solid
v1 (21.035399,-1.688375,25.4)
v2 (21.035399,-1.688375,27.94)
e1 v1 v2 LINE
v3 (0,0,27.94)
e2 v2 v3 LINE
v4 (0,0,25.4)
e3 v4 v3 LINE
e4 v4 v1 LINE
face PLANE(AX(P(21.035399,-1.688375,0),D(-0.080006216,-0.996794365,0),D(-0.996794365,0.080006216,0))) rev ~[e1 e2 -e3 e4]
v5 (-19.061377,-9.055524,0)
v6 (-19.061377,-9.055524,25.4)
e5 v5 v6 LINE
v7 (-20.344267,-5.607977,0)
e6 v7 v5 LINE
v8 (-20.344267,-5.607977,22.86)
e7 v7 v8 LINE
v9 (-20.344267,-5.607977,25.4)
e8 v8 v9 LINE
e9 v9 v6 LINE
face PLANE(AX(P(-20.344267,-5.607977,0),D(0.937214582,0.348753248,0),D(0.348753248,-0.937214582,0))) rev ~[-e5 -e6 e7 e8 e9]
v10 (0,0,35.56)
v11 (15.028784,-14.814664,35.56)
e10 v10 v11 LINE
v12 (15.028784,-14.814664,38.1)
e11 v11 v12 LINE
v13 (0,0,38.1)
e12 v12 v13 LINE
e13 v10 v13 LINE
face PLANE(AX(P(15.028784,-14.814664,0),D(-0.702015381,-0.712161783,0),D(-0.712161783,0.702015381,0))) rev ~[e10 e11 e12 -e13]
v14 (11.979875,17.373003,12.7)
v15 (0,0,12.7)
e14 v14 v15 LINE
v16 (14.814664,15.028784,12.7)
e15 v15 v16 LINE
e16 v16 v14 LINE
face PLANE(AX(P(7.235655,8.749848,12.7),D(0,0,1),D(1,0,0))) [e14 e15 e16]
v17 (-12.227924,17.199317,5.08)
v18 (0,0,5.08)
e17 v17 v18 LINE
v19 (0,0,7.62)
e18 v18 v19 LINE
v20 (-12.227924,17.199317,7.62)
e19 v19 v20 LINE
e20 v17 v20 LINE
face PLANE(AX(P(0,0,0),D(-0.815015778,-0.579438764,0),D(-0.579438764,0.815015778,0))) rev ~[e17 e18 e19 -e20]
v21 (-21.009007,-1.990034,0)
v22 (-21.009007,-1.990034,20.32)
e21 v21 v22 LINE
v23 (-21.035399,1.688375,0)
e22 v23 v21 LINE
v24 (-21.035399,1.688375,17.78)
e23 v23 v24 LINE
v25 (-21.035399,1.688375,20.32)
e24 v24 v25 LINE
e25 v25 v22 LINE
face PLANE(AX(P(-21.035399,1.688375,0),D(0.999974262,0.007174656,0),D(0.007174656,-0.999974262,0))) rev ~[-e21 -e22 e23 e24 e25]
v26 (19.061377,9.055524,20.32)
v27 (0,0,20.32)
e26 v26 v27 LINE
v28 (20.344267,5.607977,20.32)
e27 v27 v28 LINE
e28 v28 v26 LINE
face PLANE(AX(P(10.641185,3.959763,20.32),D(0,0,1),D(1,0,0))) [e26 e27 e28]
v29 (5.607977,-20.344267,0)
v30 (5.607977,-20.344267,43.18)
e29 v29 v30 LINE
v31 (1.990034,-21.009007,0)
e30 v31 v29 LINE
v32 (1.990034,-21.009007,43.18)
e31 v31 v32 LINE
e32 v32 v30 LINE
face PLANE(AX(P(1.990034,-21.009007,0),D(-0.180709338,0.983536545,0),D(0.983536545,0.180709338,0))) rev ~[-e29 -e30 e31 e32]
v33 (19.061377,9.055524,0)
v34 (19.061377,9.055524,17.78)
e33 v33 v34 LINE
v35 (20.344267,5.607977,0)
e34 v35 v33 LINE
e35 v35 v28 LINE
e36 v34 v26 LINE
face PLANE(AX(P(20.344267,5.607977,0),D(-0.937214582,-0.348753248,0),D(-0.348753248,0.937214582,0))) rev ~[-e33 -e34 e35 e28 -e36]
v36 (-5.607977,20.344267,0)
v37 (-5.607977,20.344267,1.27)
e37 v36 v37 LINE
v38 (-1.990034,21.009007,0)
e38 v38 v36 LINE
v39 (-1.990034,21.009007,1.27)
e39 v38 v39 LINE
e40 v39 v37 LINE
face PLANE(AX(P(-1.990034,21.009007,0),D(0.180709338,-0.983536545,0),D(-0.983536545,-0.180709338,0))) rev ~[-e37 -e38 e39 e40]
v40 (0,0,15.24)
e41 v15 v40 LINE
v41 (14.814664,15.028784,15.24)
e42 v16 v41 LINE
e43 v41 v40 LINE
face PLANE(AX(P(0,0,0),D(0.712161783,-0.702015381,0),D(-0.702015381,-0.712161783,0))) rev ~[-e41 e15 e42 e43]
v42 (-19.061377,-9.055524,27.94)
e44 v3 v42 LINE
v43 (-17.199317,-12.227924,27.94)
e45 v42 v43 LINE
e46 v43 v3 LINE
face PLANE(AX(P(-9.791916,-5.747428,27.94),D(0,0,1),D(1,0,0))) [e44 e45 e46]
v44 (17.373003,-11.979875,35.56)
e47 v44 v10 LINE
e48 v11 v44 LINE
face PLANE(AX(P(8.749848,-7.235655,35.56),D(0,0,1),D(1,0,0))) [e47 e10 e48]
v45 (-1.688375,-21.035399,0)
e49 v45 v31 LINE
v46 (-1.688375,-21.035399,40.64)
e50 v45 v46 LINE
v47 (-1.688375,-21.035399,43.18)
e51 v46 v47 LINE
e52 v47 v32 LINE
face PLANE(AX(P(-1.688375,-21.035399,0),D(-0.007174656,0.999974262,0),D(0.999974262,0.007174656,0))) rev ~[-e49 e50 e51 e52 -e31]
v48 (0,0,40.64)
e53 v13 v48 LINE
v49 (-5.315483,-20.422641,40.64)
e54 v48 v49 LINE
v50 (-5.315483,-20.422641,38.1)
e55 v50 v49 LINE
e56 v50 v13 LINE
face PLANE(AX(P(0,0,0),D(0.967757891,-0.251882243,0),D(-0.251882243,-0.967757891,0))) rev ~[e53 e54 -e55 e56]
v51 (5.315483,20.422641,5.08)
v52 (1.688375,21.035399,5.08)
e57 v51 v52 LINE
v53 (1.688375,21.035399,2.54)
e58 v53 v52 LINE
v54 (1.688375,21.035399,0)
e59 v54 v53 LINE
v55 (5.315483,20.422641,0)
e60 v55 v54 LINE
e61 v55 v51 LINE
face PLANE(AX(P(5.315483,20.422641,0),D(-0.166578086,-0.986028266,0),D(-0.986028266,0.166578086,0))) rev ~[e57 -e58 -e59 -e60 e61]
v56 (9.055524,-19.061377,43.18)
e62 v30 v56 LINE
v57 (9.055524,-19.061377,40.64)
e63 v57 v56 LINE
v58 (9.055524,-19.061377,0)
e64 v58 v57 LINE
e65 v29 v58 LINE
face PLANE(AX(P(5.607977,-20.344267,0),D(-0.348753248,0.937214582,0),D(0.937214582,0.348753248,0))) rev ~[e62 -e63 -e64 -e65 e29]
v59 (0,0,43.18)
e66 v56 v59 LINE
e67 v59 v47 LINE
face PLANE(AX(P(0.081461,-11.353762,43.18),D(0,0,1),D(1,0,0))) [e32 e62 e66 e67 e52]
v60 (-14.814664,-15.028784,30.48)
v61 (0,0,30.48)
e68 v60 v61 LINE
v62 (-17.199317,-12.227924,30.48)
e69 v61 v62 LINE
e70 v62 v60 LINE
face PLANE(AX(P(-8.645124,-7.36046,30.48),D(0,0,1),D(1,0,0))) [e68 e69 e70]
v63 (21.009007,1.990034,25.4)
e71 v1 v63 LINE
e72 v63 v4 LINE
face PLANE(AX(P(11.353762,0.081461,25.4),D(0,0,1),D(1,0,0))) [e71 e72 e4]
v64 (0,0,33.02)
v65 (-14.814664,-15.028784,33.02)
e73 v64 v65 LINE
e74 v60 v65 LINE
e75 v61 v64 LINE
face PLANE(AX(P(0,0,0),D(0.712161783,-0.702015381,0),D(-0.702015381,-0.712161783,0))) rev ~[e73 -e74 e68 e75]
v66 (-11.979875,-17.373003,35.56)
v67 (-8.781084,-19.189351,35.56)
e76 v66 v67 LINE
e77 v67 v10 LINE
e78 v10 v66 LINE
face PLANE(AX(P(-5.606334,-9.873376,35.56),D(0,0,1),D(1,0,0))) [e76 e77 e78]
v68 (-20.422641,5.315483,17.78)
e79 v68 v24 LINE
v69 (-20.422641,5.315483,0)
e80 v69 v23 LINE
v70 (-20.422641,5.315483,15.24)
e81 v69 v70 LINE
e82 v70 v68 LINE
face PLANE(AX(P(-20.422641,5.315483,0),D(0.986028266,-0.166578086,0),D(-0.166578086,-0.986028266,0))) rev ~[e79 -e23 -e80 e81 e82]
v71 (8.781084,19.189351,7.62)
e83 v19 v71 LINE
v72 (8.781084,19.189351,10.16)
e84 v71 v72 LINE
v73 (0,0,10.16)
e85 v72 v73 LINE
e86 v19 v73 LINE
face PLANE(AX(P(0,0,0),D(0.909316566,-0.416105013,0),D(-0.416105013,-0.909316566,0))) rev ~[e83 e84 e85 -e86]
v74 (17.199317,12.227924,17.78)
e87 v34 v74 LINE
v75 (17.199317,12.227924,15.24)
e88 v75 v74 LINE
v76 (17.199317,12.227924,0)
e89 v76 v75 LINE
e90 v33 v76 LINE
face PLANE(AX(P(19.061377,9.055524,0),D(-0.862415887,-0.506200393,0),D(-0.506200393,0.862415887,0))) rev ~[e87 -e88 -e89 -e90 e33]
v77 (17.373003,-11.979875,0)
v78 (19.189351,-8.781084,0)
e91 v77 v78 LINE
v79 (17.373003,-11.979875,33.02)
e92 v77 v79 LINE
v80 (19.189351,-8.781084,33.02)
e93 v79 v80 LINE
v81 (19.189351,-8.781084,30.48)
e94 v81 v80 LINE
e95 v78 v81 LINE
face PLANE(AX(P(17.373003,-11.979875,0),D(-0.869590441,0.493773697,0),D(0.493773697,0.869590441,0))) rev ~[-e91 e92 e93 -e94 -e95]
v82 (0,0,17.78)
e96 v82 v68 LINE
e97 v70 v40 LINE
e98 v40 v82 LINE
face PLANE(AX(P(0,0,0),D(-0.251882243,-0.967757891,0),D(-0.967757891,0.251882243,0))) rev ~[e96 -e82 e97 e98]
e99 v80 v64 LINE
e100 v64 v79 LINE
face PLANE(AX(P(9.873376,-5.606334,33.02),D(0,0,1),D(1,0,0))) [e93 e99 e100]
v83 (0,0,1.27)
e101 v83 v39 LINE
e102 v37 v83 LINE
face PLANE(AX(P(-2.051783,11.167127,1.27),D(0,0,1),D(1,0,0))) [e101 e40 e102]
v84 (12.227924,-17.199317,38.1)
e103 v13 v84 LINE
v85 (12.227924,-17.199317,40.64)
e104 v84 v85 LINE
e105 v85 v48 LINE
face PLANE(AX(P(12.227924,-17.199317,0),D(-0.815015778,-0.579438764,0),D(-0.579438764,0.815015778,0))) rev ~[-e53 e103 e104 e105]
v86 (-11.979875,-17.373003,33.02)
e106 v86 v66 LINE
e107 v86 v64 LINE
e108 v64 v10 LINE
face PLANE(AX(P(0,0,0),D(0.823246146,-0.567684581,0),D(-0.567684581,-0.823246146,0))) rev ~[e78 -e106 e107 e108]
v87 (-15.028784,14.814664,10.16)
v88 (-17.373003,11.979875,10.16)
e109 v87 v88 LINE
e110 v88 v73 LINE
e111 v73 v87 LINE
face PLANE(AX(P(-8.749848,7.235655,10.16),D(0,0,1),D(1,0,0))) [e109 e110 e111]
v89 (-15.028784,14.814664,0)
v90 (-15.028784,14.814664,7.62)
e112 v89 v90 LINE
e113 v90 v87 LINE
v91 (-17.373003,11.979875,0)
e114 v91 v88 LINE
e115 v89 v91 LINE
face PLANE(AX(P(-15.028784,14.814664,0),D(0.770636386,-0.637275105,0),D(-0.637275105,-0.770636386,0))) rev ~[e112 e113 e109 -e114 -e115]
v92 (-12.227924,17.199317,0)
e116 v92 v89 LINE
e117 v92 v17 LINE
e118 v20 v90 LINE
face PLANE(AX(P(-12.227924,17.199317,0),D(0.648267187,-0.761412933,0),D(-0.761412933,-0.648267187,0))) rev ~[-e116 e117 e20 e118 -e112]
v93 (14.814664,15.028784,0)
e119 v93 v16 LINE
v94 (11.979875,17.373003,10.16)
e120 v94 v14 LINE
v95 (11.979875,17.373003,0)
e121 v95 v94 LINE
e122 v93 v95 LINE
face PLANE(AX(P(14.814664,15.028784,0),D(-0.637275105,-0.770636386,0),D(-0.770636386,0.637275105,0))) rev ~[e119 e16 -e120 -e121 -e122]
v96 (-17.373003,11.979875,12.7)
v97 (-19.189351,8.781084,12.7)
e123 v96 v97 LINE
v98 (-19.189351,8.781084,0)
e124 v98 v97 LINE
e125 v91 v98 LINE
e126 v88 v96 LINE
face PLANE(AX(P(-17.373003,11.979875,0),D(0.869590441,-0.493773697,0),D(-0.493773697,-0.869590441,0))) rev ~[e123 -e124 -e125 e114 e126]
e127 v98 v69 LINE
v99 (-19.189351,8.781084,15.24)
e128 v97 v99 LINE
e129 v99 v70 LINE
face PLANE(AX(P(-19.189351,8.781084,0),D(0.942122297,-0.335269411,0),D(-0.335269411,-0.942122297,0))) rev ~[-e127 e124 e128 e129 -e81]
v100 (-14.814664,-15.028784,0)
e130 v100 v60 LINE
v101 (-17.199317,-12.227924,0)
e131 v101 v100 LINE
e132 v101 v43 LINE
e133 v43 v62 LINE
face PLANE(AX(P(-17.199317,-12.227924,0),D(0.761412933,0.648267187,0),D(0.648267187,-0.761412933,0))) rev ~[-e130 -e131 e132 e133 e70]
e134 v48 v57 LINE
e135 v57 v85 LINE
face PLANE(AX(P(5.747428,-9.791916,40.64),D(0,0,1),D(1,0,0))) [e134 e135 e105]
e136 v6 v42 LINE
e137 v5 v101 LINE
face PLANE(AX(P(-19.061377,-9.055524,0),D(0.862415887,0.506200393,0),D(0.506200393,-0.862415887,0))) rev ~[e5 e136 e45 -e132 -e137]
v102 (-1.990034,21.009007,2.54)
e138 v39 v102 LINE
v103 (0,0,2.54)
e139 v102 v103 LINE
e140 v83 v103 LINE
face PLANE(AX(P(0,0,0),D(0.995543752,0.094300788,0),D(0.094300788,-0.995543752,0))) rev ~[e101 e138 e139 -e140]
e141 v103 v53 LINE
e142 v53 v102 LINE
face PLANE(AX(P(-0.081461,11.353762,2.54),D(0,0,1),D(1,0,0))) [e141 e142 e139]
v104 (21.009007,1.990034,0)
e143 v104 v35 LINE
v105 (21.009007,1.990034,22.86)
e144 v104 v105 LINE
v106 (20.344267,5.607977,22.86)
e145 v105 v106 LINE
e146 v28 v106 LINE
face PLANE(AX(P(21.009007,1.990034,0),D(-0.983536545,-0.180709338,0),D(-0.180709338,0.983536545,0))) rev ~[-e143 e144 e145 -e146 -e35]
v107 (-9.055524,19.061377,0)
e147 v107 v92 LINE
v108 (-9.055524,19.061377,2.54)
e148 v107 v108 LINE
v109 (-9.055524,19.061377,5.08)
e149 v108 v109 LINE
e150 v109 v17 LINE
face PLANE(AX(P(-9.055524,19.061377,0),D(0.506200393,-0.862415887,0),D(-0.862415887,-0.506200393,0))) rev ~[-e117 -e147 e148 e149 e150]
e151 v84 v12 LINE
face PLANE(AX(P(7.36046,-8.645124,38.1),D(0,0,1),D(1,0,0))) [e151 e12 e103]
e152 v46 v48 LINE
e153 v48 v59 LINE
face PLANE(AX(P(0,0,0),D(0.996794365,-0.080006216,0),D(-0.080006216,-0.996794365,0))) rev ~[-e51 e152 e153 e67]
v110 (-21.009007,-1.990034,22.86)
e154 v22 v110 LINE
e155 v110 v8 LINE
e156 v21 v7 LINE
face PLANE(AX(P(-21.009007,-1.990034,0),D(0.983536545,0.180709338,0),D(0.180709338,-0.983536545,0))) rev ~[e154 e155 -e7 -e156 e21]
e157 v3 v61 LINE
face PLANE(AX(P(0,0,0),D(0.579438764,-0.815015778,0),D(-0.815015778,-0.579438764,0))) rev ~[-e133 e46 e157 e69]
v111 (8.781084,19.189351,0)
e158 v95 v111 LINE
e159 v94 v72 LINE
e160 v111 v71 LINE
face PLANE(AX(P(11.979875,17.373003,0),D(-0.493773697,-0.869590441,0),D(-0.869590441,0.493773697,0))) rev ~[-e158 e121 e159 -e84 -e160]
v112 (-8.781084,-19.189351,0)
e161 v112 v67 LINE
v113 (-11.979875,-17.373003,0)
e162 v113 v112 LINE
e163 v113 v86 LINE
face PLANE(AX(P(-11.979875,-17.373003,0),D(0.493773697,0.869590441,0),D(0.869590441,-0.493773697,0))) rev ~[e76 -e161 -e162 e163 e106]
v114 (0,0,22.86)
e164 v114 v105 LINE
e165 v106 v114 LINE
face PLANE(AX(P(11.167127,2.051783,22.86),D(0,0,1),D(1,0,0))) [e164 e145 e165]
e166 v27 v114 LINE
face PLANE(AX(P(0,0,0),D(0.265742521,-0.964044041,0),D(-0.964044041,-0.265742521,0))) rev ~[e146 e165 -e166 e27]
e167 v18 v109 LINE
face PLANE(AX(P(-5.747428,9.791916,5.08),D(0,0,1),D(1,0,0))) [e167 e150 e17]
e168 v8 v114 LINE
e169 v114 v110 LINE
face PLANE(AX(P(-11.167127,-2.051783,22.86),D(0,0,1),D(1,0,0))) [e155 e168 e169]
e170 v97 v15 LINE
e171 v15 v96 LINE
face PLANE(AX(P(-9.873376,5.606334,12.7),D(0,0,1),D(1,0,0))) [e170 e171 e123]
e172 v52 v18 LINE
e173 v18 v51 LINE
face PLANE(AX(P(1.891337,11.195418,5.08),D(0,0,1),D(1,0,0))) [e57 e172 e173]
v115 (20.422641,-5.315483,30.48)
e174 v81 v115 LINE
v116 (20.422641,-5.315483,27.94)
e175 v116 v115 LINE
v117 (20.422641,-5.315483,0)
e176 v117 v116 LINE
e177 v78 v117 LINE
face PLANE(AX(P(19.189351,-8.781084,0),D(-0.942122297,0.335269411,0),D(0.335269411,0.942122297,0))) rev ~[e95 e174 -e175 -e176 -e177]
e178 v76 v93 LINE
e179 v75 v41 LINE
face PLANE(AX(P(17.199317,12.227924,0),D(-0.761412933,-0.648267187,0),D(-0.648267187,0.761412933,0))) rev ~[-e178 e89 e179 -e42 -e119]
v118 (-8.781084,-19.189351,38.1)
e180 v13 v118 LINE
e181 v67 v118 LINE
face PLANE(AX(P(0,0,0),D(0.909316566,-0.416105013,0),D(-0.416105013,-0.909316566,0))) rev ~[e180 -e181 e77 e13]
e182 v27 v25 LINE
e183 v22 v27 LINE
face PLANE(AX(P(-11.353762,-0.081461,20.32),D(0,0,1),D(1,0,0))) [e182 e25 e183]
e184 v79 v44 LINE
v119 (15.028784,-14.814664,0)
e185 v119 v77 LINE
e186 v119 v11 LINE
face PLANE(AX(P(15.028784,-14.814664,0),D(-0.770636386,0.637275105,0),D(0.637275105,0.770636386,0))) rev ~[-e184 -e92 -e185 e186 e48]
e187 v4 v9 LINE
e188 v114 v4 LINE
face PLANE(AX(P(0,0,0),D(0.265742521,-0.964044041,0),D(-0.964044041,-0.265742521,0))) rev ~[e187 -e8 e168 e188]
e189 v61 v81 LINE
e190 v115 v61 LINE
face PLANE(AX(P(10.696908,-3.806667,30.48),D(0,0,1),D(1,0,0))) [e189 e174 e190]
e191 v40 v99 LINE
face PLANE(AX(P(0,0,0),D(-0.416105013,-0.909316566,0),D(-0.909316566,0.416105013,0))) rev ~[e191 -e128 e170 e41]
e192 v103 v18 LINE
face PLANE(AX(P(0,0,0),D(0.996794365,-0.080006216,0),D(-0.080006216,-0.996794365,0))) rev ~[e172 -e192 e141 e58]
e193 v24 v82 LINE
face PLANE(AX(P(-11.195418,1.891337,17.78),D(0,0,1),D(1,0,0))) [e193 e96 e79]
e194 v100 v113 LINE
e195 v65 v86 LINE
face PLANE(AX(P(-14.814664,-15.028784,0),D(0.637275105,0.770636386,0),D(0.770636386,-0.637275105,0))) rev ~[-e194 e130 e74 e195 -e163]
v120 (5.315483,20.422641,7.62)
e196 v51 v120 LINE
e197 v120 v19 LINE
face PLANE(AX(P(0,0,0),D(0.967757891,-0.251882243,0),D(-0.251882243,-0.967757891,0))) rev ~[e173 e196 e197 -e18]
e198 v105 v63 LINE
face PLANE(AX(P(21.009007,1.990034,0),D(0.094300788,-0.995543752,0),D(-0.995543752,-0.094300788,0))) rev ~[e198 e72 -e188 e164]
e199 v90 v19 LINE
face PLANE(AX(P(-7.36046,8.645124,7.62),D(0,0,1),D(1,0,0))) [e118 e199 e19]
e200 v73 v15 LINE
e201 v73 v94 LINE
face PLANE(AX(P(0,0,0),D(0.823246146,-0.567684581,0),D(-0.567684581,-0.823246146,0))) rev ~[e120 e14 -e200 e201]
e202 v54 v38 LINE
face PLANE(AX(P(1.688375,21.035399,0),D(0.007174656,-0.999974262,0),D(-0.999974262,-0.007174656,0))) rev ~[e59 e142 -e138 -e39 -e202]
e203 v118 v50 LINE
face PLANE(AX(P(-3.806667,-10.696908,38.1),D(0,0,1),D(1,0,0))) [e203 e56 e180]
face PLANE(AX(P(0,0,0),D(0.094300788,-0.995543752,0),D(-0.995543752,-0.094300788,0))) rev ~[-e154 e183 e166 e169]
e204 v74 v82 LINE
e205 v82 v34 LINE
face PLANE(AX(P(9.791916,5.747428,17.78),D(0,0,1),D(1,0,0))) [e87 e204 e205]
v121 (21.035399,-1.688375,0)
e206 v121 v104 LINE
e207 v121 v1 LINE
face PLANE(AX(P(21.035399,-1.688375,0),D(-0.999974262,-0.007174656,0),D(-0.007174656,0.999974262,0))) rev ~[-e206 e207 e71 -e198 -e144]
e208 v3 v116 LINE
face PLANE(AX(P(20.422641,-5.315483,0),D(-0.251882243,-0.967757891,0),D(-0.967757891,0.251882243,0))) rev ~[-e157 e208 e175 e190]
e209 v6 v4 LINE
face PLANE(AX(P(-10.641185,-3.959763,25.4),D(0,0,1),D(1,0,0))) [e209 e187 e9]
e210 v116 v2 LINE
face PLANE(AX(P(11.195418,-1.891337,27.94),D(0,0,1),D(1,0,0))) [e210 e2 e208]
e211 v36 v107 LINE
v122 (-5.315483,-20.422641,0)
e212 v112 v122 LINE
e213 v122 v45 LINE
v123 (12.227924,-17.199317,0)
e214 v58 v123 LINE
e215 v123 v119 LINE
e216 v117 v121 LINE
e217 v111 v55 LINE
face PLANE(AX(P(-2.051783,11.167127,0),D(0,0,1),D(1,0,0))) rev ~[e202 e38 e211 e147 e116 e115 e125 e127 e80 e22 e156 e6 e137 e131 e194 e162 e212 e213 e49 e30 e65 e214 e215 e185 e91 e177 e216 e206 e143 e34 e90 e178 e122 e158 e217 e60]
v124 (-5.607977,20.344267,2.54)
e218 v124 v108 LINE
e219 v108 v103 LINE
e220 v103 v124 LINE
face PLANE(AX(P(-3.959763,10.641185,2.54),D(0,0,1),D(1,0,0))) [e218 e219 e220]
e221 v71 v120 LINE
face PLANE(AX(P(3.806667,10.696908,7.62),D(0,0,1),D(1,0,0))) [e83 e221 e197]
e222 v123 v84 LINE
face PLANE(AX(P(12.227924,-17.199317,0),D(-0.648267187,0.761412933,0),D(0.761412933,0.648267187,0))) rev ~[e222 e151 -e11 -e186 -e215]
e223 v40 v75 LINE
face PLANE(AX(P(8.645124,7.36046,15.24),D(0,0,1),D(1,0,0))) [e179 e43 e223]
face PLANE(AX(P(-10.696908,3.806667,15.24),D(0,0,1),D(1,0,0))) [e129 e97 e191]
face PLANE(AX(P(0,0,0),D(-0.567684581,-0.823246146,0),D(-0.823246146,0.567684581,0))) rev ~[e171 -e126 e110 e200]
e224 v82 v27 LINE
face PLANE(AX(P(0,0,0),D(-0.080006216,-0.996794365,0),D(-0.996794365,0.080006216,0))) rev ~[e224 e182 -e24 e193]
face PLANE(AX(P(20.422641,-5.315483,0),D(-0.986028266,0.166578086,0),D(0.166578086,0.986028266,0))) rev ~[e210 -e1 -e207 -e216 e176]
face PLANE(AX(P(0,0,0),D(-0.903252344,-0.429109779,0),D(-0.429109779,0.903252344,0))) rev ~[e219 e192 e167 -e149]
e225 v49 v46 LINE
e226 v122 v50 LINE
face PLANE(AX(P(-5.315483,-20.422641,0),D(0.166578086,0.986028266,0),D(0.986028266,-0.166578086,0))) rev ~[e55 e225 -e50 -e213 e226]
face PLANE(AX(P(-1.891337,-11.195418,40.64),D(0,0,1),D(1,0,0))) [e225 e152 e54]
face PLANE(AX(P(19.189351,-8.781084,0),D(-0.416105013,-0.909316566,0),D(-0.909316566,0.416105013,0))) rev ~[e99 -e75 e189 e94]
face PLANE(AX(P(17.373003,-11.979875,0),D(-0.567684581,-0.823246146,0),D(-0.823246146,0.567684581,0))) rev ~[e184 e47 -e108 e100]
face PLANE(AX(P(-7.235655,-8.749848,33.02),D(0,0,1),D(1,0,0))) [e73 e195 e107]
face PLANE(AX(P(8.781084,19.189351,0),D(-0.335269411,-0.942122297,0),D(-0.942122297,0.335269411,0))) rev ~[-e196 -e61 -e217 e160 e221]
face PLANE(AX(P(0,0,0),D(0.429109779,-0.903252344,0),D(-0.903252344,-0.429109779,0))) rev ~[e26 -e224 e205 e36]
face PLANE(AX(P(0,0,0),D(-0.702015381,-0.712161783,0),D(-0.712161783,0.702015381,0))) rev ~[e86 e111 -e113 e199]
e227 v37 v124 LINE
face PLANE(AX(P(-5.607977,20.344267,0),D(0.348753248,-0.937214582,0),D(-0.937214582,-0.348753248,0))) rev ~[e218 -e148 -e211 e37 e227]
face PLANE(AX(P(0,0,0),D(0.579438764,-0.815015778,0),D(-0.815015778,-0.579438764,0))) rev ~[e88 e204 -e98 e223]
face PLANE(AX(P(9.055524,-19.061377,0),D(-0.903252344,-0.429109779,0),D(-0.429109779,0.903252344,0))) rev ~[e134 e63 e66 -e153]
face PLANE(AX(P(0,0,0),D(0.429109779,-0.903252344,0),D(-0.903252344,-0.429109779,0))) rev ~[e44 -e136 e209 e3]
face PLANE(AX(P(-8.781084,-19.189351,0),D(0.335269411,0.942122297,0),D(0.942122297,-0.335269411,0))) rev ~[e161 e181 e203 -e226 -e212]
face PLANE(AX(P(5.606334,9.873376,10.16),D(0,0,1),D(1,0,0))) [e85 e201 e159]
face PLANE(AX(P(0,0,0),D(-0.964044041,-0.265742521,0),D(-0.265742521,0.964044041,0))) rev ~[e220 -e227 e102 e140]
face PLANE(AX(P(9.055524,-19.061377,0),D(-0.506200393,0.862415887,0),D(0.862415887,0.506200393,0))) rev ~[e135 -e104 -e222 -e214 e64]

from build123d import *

# Parameters (mm, degrees)
F1_DEPTH  = 2.54
F2_DEPTH  = 5.08
F3_DEPTH  = 7.62
F4_DEPTH  = 10.16
F5_DEPTH  = 12.7
F6_DEPTH  = 15.24
F7_DEPTH  = 17.78
F8_DEPTH  = 20.32
F9_DEPTH  = 22.86
F10_DEPTH = 25.4
F11_DEPTH = 27.94
F12_DEPTH = 30.48
F13_DEPTH = 33.02
F14_DEPTH = 35.56
F15_DEPTH = 38.1
F16_DEPTH = 40.64
F17_DEPTH = 43.18
F18_DEPTH = 43.18
F19_DEPTH = 43.18
F20_DEPTH = 40.64
F21_DEPTH = 38.1
F22_DEPTH = 35.56
F23_DEPTH = 33.02
F24_DEPTH = 30.48
F25_DEPTH = 27.94
F26_DEPTH = 25.4
F27_DEPTH = 22.86
F28_DEPTH = 20.32
F29_DEPTH = 17.78
F30_DEPTH = 15.24
F31_DEPTH = 12.7
F32_DEPTH = 10.16
F33_DEPTH = 7.62
F34_DEPTH = 5.08
F35_DEPTH = 2.54
F36_DEPTH = 1.27


with BuildPart() as f1:
    # F0 (on Top) → F1 (new body)
    with BuildSketch(Plane.XY):
        Polygon((-1.990034, 21.009007), (0, 0), (1.688375, 21.035399), align=None)
    extrude(amount=F1_DEPTH)

    # F0 (on Top) → F2 (join)
    with BuildSketch(Plane.XY):
        Polygon((1.688375, 21.035399), (0, 0), (5.315483, 20.422641), align=None)
    extrude(amount=F2_DEPTH)

    # F0 (on Top) → F3 (join)
    with BuildSketch(Plane.XY):
        Polygon((5.315483, 20.422641), (0, 0), (8.781084, 19.189351), align=None)
    extrude(amount=F3_DEPTH)

    # F0 (on Top) → F4 (join)
    with BuildSketch(Plane.XY):
        Polygon((8.781084, 19.189351), (0, 0), (11.979875, 17.373003), align=None)
    extrude(amount=F4_DEPTH)

    # F0 (on Top) → F5 (join)
    with BuildSketch(Plane.XY):
        Polygon((0, 0), (14.814664, 15.028784), (11.979875, 17.373003), align=None)
    extrude(amount=F5_DEPTH)

    # F0 (on Top) → F6 (join)
    with BuildSketch(Plane.XY):
        Polygon((0, 0), (17.199317, 12.227924), (14.814664, 15.028784), align=None)
    extrude(amount=F6_DEPTH)

    # F0 (on Top) → F7 (join)
    with BuildSketch(Plane.XY):
        Polygon((19.061377, 9.055524), (17.199317, 12.227924), (0, 0), align=None)
    extrude(amount=F7_DEPTH)

    # F0 (on Top) → F8 (join)
    with BuildSketch(Plane.XY):
        Polygon((20.344267, 5.607977), (19.061377, 9.055524), (0, 0), align=None)
    extrude(amount=F8_DEPTH)

    # F0 (on Top) → F9 (join)
    with BuildSketch(Plane.XY):
        Polygon((20.344267, 5.607977), (0, 0), (21.009007, 1.990034), align=None)
    extrude(amount=F9_DEPTH)

    # F0 (on Top) → F10 (join)
    with BuildSketch(Plane.XY):
        Polygon((21.009007, 1.990034), (0, 0), (21.035399, -1.688375), align=None)
    extrude(amount=F10_DEPTH)

    # F0 (on Top) → F11 (join)
    with BuildSketch(Plane.XY):
        Polygon((21.035399, -1.688375), (0, 0), (20.422641, -5.315483), align=None)
    extrude(amount=F11_DEPTH)

    # F0 (on Top) → F12 (join)
    with BuildSketch(Plane.XY):
        Polygon((20.422641, -5.315483), (0, 0), (19.189351, -8.781084), align=None)
    extrude(amount=F12_DEPTH)

    # F0 (on Top) → F13 (join)
    with BuildSketch(Plane.XY):
        Polygon((19.189351, -8.781084), (0, 0), (17.373003, -11.979875), align=None)
    extrude(amount=F13_DEPTH)

    # F0 (on Top) → F14 (join)
    with BuildSketch(Plane.XY):
        Polygon((17.373003, -11.979875), (0, 0), (15.028784, -14.814664), align=None)
    extrude(amount=F14_DEPTH)

    # F0 (on Top) → F15 (join)
    with BuildSketch(Plane.XY):
        Polygon((15.028784, -14.814664), (0, 0), (12.227924, -17.199317), align=None)
    extrude(amount=F15_DEPTH)

    # F0 (on Top) → F16 (join)
    with BuildSketch(Plane.XY):
        Polygon((12.227924, -17.199317), (0, 0), (9.055524, -19.061377), align=None)
    extrude(amount=F16_DEPTH)

    # F0 (on Top) → F17 (join)
    with BuildSketch(Plane.XY):
        Polygon((9.055524, -19.061377), (0, 0), (5.607977, -20.344267), align=None)
    extrude(amount=F17_DEPTH)

    # F0 (on Top) → F18 (join)
    with BuildSketch(Plane.XY):
        Polygon((5.607977, -20.344267), (0, 0), (1.990034, -21.009007), align=None)
    extrude(amount=F18_DEPTH)

    # F0 (on Top) → F19 (join)
    with BuildSketch(Plane.XY):
        Polygon((1.990034, -21.009007), (0, 0), (-1.688375, -21.035399), align=None)
    extrude(amount=F19_DEPTH)

    # F0 (on Top) → F20 (join)
    with BuildSketch(Plane.XY):
        Polygon((-1.688375, -21.035399), (0, 0), (-5.315483, -20.422641), align=None)
    extrude(amount=F20_DEPTH)

    # F0 (on Top) → F21 (join)
    with BuildSketch(Plane.XY):
        Polygon((-5.315483, -20.422641), (0, 0), (-8.781084, -19.189351), align=None)
    extrude(amount=F21_DEPTH)

    # F0 (on Top) → F22 (join)
    with BuildSketch(Plane.XY):
        Polygon((-8.781084, -19.189351), (0, 0), (-11.979875, -17.373003), align=None)
    extrude(amount=F22_DEPTH)

    # F0 (on Top) → F23 (join)
    with BuildSketch(Plane.XY):
        Polygon((-11.979875, -17.373003), (0, 0), (-14.814664, -15.028784), align=None)
    extrude(amount=F23_DEPTH)

    # F0 (on Top) → F24 (join)
    with BuildSketch(Plane.XY):
        Polygon((-14.814664, -15.028784), (0, 0), (-17.199317, -12.227924), align=None)
    extrude(amount=F24_DEPTH)

    # F0 (on Top) → F25 (join)
    with BuildSketch(Plane.XY):
        Polygon((-17.199317, -12.227924), (0, 0), (-19.061377, -9.055524), align=None)
    extrude(amount=F25_DEPTH)

    # F0 (on Top) → F26 (join)
    with BuildSketch(Plane.XY):
        Polygon((-19.061377, -9.055524), (0, 0), (-20.344267, -5.607977), align=None)
    extrude(amount=F26_DEPTH)

    # F0 (on Top) → F27 (join)
    with BuildSketch(Plane.XY):
        Polygon((-20.344267, -5.607977), (0, 0), (-21.009007, -1.990034), align=None)
    extrude(amount=F27_DEPTH)

    # F0 (on Top) → F28 (join)
    with BuildSketch(Plane.XY):
        Polygon((-21.009007, -1.990034), (0, 0), (-21.035399, 1.688375), align=None)
    extrude(amount=F28_DEPTH)

    # F0 (on Top) → F29 (join)
    with BuildSketch(Plane.XY):
        Polygon((-21.035399, 1.688375), (0, 0), (-20.422641, 5.315483), align=None)
    extrude(amount=F29_DEPTH)

    # F0 (on Top) → F30 (join)
    with BuildSketch(Plane.XY):
        Polygon((-20.422641, 5.315483), (0, 0), (-19.189351, 8.781084), align=None)
    extrude(amount=F30_DEPTH)

    # F0 (on Top) → F31 (join)
    with BuildSketch(Plane.XY):
        Polygon((-19.189351, 8.781084), (0, 0), (-17.373003, 11.979875), align=None)
    extrude(amount=F31_DEPTH)

    # F0 (on Top) → F32 (join)
    with BuildSketch(Plane.XY):
        Polygon((-17.373003, 11.979875), (0, 0), (-15.028784, 14.814664), align=None)
    extrude(amount=F32_DEPTH)

    # F0 (on Top) → F33 (join)
    with BuildSketch(Plane.XY):
        Polygon((-15.028784, 14.814664), (0, 0), (-12.227924, 17.199317), align=None)
    extrude(amount=F33_DEPTH)

    # F0 (on Top) → F34 (join)
    with BuildSketch(Plane.XY):
        Polygon((-12.227924, 17.199317), (0, 0), (-9.055524, 19.061377), align=None)
    extrude(amount=F34_DEPTH)

    # F0 (on Top) → F35 (join)
    with BuildSketch(Plane.XY):
        Polygon((-9.055524, 19.061377), (0, 0), (-5.607977, 20.344267), align=None)
    extrude(amount=F35_DEPTH)

    # F0 (on Top) → F36 (join)
    with BuildSketch(Plane.XY):
        Polygon((-5.607977, 20.344267), (0, 0), (-1.990034, 21.009007), align=None)
    extrude(amount=F36_DEPTH)


solid = f1.part
